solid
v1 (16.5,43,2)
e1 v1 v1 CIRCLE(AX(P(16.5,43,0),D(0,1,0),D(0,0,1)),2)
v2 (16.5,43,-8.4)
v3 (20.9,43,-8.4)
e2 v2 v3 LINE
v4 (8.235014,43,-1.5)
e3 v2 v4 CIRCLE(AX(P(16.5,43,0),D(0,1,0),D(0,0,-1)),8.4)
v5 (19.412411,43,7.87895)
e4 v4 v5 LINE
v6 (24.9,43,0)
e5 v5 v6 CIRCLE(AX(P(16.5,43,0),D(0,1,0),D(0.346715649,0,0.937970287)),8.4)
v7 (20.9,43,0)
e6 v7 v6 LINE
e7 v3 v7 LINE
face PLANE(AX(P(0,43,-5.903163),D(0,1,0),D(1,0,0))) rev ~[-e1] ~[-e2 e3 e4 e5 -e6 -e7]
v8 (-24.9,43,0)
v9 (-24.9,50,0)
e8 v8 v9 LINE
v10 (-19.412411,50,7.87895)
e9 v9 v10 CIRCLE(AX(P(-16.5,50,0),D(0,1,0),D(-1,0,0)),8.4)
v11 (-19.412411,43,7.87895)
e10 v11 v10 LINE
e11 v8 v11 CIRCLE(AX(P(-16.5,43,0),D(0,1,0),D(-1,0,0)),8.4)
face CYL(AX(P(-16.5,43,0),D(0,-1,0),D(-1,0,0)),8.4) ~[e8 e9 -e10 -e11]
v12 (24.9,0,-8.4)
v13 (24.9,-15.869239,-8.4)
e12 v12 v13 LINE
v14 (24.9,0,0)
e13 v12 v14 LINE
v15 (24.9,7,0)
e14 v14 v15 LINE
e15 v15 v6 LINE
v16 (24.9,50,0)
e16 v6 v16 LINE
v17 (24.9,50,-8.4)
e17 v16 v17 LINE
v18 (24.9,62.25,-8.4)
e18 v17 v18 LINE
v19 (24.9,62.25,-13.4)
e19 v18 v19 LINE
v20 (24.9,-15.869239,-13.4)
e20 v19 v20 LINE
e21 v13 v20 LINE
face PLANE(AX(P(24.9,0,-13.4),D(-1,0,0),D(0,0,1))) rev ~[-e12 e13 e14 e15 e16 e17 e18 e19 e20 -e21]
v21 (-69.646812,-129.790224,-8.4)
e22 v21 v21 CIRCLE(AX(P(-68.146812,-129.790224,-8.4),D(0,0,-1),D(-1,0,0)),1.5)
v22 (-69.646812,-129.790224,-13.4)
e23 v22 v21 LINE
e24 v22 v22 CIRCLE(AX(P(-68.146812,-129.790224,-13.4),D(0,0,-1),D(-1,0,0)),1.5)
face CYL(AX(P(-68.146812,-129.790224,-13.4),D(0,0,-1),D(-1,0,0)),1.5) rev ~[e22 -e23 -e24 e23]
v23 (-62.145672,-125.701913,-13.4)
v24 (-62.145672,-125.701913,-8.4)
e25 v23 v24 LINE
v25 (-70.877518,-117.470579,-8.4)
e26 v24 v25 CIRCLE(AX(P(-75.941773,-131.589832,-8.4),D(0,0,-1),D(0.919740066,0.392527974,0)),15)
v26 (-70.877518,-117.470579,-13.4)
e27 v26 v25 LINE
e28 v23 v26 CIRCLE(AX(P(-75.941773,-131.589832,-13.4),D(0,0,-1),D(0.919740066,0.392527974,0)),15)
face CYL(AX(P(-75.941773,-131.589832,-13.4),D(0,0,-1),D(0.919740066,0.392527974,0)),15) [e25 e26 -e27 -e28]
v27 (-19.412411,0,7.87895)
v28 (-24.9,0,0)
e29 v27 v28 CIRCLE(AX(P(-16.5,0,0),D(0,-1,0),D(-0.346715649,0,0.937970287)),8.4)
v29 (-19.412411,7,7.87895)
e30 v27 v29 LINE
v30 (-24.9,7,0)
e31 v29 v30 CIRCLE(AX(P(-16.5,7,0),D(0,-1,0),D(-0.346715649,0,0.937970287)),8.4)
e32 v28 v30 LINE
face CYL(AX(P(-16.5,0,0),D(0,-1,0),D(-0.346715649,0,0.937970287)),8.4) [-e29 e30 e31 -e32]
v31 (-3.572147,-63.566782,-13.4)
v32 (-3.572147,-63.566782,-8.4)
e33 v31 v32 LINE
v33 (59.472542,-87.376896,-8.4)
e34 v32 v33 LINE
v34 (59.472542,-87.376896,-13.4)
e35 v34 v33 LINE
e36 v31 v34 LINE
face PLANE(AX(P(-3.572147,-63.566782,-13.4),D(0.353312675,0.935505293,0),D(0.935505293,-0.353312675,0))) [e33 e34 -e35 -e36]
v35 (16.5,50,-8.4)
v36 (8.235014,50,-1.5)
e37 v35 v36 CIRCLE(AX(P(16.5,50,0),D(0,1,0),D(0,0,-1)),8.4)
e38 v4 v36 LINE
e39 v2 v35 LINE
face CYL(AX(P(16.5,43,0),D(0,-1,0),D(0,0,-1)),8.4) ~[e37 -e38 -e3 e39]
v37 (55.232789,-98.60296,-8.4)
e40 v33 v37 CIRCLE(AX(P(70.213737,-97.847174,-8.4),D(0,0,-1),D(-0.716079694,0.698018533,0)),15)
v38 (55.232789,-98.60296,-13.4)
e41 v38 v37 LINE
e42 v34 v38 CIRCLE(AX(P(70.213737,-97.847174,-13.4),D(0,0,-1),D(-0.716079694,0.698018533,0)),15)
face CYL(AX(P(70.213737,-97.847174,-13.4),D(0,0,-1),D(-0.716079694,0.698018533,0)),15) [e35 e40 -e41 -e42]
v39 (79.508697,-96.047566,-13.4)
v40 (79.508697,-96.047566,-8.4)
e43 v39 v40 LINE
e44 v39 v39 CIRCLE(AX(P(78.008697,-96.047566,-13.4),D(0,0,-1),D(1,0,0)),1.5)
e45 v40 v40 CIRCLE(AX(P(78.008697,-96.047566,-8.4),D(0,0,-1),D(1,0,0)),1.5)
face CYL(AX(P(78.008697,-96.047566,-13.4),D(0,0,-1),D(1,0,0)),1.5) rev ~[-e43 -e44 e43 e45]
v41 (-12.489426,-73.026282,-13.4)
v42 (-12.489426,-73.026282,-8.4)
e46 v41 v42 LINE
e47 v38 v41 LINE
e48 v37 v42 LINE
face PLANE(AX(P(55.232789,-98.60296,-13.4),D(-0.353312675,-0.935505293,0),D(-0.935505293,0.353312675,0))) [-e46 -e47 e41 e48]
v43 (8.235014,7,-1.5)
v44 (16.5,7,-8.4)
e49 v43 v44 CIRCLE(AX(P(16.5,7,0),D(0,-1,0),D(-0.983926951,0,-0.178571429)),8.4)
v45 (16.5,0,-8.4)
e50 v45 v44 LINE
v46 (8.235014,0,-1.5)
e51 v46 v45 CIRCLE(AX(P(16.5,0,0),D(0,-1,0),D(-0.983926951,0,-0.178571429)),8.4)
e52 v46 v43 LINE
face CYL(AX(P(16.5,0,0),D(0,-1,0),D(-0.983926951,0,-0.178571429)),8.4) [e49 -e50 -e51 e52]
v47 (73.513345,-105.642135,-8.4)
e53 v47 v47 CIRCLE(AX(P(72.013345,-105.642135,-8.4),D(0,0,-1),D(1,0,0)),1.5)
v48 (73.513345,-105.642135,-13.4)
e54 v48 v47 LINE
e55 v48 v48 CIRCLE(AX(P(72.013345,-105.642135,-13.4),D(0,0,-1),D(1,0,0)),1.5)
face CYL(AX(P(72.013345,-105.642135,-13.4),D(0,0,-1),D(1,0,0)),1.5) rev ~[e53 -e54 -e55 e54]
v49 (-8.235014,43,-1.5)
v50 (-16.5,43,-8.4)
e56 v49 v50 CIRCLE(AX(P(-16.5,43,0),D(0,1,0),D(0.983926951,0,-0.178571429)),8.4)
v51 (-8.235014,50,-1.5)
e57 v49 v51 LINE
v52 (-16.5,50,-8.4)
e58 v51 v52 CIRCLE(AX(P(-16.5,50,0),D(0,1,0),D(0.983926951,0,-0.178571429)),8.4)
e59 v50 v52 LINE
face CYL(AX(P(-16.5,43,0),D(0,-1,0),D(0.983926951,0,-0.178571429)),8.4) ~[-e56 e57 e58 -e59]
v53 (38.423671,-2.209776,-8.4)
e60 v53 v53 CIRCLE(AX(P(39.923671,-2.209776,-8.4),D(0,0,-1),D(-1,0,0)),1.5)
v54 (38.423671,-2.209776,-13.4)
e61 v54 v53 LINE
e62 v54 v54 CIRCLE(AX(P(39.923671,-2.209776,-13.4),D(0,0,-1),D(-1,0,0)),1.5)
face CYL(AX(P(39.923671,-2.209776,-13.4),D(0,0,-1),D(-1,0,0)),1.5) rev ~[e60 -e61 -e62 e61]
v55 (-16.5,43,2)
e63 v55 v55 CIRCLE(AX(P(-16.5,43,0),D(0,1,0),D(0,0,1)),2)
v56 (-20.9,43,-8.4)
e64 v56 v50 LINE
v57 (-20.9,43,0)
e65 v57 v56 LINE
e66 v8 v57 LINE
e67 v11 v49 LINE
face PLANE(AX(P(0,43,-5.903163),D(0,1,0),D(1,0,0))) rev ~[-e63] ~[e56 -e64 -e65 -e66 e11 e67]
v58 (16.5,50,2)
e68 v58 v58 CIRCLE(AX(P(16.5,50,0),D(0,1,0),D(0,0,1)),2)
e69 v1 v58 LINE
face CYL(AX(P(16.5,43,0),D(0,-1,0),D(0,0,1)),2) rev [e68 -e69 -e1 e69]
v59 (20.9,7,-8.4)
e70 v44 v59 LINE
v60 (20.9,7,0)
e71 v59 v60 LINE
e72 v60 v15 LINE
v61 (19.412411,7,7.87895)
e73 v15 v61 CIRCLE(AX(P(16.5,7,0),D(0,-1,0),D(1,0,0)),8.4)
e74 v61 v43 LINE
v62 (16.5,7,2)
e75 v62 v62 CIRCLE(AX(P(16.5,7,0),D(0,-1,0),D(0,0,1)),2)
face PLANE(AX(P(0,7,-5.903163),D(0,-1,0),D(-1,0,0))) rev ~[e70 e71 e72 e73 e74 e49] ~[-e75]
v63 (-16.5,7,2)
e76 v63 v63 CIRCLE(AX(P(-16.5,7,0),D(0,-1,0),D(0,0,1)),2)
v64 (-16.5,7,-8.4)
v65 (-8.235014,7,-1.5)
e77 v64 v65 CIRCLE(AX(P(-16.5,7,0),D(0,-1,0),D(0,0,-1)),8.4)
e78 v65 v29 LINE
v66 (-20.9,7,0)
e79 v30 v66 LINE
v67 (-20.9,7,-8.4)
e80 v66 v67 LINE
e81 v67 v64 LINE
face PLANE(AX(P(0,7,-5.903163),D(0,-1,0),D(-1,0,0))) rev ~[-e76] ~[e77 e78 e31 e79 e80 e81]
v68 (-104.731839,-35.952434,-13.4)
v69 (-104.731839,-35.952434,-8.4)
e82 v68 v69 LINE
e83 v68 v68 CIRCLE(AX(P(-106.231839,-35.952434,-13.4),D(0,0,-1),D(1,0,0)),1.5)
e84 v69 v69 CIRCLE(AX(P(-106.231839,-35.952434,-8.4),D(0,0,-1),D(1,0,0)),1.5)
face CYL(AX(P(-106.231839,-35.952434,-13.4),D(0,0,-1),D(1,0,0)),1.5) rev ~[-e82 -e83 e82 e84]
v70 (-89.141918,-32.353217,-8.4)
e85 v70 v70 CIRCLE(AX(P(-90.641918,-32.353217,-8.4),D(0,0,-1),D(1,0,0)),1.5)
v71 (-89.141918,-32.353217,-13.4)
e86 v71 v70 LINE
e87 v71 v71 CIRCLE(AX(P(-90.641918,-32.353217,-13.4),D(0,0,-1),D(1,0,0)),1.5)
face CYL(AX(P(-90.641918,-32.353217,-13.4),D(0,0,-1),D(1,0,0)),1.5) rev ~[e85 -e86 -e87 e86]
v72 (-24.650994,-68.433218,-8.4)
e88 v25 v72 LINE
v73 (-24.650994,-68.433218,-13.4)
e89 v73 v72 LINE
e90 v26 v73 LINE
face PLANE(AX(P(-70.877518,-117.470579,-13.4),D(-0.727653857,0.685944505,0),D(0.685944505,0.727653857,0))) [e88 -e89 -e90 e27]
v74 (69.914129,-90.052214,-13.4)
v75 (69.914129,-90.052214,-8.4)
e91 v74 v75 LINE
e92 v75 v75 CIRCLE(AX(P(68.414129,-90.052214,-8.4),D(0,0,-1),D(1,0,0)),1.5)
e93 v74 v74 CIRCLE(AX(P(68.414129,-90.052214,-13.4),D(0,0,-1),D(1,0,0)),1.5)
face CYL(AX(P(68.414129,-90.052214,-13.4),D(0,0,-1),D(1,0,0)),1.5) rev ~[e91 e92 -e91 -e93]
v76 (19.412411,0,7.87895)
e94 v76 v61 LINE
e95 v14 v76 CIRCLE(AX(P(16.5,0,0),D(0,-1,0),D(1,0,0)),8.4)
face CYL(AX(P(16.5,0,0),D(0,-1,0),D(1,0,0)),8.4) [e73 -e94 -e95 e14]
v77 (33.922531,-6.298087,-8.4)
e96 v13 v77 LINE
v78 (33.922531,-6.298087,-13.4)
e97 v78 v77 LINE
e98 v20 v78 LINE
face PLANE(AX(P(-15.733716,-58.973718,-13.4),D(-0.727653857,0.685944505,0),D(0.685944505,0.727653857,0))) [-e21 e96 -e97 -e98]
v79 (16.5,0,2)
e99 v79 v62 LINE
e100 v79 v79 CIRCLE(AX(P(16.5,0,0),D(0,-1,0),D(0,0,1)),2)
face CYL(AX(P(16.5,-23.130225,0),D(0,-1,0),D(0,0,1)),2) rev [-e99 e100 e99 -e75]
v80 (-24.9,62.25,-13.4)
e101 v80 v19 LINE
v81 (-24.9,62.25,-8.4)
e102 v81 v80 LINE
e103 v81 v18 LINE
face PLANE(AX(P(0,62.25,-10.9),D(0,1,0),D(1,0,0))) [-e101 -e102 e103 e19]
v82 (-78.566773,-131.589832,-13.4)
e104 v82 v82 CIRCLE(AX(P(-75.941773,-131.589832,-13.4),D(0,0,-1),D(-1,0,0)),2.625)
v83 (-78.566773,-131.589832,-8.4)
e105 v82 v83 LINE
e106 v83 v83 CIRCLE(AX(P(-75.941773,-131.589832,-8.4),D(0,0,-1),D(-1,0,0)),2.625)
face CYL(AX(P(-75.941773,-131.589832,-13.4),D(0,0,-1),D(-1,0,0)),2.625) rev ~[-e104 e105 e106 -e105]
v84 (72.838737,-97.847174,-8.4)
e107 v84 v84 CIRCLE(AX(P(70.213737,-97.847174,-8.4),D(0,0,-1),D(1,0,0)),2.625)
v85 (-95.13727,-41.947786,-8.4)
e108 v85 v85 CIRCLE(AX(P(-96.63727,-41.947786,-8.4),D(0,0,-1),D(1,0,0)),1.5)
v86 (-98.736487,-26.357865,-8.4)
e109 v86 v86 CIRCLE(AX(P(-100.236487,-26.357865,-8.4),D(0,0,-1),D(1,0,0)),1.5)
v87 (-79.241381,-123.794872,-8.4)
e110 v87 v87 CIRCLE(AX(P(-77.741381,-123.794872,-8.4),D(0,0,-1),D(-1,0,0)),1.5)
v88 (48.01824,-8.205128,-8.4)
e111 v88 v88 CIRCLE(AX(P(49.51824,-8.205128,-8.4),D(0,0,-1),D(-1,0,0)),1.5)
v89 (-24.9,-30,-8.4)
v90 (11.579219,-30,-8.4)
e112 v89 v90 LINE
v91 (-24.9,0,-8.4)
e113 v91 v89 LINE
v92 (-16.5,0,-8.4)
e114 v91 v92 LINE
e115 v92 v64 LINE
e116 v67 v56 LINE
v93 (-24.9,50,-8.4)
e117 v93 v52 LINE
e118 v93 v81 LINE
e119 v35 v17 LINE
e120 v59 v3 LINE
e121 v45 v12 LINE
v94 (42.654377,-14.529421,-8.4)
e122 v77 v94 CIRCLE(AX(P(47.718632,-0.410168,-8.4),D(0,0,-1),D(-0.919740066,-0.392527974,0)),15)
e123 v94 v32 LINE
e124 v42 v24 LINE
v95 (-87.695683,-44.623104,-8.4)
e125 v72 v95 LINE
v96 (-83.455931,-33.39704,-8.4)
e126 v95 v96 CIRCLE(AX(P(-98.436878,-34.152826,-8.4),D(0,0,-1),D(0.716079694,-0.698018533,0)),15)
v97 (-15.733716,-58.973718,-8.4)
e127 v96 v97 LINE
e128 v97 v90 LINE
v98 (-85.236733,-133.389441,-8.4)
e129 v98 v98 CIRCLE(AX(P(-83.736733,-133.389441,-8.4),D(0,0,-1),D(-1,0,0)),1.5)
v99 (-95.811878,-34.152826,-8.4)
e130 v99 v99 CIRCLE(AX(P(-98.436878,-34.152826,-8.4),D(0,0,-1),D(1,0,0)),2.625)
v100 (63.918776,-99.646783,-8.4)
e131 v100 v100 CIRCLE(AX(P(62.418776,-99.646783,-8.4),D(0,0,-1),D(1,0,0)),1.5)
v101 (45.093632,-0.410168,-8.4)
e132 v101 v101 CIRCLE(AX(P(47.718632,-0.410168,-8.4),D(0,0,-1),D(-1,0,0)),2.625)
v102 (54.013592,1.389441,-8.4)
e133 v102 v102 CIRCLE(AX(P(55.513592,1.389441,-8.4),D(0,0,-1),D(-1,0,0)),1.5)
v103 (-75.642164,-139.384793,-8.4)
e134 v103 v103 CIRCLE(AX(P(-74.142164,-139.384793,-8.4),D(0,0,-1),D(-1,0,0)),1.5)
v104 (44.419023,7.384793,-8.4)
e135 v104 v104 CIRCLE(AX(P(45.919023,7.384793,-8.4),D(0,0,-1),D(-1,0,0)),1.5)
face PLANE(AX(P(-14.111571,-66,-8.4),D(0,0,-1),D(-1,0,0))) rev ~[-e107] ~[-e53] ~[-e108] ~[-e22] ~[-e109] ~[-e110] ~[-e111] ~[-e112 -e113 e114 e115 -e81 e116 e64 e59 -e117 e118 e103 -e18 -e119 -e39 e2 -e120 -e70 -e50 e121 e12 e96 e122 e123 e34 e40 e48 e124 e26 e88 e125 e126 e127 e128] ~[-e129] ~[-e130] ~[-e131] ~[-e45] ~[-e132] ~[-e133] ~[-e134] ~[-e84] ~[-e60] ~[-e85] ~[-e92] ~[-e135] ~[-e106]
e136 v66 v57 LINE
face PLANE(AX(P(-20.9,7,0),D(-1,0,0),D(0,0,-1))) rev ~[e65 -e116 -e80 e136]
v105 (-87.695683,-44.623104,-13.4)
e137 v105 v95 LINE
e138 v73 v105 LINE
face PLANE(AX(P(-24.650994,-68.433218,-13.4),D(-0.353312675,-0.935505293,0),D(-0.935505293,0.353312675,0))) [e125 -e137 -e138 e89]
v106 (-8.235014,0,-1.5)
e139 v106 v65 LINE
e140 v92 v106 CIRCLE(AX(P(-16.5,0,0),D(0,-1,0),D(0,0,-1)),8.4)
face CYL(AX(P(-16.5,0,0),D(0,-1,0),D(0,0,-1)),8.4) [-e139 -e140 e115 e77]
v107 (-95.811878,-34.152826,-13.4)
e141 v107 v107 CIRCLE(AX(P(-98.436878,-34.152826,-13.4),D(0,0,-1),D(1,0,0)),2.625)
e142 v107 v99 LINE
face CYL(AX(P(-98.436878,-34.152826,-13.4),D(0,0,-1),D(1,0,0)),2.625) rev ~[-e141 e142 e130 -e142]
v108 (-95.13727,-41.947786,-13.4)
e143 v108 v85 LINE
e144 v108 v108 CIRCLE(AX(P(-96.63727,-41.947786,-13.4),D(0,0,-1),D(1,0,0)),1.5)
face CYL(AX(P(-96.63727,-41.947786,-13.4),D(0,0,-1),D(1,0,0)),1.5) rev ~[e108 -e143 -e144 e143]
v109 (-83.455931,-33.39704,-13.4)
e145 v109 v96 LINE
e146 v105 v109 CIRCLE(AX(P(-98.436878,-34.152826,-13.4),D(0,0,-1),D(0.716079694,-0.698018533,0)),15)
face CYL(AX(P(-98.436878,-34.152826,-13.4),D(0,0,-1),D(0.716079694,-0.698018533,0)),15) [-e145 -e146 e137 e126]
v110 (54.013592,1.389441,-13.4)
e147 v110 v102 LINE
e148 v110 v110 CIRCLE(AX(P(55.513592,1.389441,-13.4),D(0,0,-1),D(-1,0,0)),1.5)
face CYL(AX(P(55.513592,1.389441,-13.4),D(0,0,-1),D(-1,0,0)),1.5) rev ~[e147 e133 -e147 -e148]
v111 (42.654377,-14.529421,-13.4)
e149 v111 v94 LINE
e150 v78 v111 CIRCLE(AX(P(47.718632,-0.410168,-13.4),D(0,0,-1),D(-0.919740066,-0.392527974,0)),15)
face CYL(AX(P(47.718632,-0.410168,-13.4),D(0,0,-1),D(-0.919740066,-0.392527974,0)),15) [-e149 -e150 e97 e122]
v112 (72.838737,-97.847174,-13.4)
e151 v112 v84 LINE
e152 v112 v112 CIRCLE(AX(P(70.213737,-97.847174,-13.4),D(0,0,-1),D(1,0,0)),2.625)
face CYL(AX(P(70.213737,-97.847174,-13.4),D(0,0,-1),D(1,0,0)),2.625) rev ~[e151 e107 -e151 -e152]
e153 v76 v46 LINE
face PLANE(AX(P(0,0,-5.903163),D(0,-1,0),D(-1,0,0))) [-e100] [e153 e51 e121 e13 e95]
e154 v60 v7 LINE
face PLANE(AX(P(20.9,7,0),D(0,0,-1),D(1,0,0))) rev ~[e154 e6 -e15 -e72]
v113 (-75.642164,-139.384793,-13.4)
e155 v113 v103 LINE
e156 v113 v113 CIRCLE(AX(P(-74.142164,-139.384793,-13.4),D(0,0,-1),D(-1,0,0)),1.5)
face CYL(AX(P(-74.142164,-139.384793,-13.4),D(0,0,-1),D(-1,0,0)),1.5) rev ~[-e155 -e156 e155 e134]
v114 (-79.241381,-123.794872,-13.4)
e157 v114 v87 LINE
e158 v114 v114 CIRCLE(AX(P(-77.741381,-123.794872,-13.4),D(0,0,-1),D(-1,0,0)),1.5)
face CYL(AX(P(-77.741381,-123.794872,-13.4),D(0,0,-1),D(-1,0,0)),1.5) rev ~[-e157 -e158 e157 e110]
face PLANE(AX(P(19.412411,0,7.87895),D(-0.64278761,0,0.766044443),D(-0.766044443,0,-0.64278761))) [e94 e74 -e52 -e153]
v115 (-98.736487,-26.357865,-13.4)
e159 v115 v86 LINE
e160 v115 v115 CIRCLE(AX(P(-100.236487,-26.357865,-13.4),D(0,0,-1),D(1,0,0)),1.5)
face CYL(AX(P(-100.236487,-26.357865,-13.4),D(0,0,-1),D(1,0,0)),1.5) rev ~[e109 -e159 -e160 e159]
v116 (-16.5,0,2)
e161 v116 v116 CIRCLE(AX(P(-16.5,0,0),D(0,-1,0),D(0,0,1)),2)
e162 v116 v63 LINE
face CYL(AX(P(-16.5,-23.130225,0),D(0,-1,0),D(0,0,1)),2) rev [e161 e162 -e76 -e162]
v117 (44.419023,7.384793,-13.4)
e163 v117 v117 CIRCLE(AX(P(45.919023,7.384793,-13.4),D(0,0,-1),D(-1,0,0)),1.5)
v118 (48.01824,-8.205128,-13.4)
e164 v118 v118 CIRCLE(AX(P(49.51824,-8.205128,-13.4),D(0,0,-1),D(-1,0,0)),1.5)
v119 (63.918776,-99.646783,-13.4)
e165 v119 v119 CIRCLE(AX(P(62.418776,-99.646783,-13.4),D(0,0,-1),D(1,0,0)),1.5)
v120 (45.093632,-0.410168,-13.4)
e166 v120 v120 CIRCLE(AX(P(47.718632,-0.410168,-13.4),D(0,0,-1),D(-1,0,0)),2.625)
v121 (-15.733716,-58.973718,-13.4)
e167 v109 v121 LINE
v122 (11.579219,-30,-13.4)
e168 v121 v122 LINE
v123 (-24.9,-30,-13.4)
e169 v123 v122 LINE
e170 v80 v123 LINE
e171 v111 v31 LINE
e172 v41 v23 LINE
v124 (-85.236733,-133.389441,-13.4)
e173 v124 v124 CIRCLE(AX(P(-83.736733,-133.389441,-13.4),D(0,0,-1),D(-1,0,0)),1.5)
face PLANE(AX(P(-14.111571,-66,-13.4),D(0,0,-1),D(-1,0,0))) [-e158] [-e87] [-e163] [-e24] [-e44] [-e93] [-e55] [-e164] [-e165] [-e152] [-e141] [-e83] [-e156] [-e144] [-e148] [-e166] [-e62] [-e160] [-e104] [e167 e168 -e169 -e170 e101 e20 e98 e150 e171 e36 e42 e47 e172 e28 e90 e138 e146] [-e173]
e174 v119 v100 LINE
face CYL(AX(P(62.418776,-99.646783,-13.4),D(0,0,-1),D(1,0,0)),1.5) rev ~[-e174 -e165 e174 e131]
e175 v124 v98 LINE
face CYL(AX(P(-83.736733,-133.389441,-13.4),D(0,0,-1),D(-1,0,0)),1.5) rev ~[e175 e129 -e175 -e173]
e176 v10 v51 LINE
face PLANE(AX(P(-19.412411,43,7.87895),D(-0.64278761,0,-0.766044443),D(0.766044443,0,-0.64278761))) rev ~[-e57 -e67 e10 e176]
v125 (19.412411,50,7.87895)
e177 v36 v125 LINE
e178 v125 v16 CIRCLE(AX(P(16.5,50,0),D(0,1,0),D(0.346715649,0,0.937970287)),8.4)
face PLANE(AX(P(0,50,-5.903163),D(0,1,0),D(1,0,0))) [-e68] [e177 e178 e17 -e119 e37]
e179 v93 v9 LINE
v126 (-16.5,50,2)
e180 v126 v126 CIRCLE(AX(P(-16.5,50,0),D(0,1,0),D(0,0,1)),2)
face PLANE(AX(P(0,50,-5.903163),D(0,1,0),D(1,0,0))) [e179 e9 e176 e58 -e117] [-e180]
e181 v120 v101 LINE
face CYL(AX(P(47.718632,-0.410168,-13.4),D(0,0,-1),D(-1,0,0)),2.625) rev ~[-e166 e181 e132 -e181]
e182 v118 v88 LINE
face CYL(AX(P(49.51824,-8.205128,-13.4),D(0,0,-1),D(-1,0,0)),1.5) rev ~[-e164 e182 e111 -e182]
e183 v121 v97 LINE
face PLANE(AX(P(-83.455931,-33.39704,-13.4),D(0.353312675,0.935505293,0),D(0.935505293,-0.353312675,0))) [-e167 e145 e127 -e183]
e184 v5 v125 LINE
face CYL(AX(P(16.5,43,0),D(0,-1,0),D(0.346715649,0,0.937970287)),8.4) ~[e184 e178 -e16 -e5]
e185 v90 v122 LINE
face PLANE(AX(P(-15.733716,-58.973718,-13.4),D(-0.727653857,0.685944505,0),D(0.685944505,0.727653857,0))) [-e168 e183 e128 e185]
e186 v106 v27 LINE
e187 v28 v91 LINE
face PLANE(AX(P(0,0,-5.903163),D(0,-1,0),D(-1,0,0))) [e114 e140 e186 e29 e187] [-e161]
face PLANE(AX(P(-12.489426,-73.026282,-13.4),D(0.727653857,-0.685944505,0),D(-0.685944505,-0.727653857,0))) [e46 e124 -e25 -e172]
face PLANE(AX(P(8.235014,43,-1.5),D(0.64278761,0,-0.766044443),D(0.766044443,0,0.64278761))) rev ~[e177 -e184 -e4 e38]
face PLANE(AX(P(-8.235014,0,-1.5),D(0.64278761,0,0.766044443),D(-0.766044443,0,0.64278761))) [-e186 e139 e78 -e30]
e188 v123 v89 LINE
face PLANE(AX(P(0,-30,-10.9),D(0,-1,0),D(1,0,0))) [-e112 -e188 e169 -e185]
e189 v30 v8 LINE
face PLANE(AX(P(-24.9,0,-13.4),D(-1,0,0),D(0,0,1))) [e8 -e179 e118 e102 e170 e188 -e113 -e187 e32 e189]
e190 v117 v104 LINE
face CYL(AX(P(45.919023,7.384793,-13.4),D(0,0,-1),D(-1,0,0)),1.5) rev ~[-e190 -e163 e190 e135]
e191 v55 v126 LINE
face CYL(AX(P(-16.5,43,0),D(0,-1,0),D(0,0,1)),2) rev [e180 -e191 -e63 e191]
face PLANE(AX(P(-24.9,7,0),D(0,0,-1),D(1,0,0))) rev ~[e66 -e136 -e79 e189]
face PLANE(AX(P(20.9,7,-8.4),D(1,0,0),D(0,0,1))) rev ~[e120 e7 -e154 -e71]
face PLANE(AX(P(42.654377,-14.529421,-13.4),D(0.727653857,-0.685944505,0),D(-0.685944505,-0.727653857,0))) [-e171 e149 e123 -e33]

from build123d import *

# Parameters (mm, degrees)
BOSS_EXTRUDE2_DEPTH     = 7
CUT_EXTRUDE2_DEPTH      = 30.130224853
CUT_EXTRUDE2_DEPTH_BACK = 30.130224853
SKETCH3_R               = 2
BOSS_EXTRUDE3_DEPTH     = 36
SKETCH5_R               = 2
BOSS_EXTRUDE4_DEPTH     = 7
SKETCH13_W              = 49.8
SKETCH13_H              = 5
BOSS_EXTRUDE6_DEPTH     = 12.25
SKETCH15_W              = 49.8
SKETCH15_H              = 5
BOSS_EXTRUDE7_DEPTH     = 30
SKETCH12_R              = 1.5
SKETCH12_R_2            = 2.625
BOSS_EXTRUDE8_DEPTH     = 5


with BuildPart() as part:
    # Sketch1 → Boss-Extrude2 (new body)
    with BuildSketch(Plane(origin=(0, 0, 0), x_dir=(1, 0, 0), z_dir=(0, 1, 0))):
        with BuildLine():
            Line((-24.9, 0), (-24.9, 13.4))
            Line((-24.9, 13.4), (24.9, 13.4))
            Line((24.9, 13.4), (24.9, 0))
            ThreePointArc((24.9, 0), (23.392904185, -4.800819919), (19.412411454, -7.878950407))
            Line((19.412411454, -7.878950407), (8.235013612, 1.5))
            ThreePointArc((8.235013612, 1.5), (11.116692467, 6.448255578), (16.5, 8.4))
            Line((16.5, 8.4), (-16.5, 8.4))
            ThreePointArc((-16.5, 8.4), (-11.116692467, 6.448255578), (-8.235013612, 1.5))
            Line((-8.235013612, 1.5), (-19.412411454, -7.878950407))
            ThreePointArc((-19.412411454, -7.878950407), (-23.392904185, -4.800819919), (-24.9, 0))
        make_face()
    extrude(amount=BOSS_EXTRUDE2_DEPTH)

    # Sketch3 → Cut-Extrude2 (cut, two sides: drawn at the far end of the back side and taken through both)
    with BuildSketch(Plane(origin=(0, 7, 0), x_dir=(1, 0, 0), z_dir=(0, 1, 0)).offset(-CUT_EXTRUDE2_DEPTH_BACK)):
        with Locations(Location((-16.5, 0, 0), (0, 0, 270))):
            Circle(SKETCH3_R)
        with Locations(Location((16.5, 0, 0), (0, 0, 270))):
            Circle(SKETCH3_R)
    extrude(amount=CUT_EXTRUDE2_DEPTH + CUT_EXTRUDE2_DEPTH_BACK, mode=Mode.SUBTRACT)

    # Sketch4 → Boss-Extrude3 (add)
    with BuildSketch(Plane(origin=(0, 7, 0), x_dir=(1, 0, 0), z_dir=(0, 1, 0))):
        Polygon((-24.9, 13.4), (-24.9, 0), (-20.9, 0), (-20.9, 8.4), (-16.5, 8.4), (16.5, 8.4), (20.9, 8.4), (20.9, 0), (24.9, 0), (24.9, 13.4), align=None)
    extrude(amount=BOSS_EXTRUDE3_DEPTH)

    # Sketch5 → Boss-Extrude4 (add)
    with BuildSketch(Plane(origin=(0, 43, 0), x_dir=(1, 0, 0), z_dir=(0, 1, 0))):
        with BuildLine():
            Line((-24.9, 13.4), (-24.9, 0))
            ThreePointArc((-24.9, 0), (-23.392904185, -4.800819919), (-19.412411454, -7.878950407))
            Line((-19.412411454, -7.878950407), (-8.235013612, 1.5))
            ThreePointArc((-8.235013612, 1.5), (-11.116692467, 6.448255578), (-16.5, 8.4))
            Line((-16.5, 8.4), (16.5, 8.4))
            ThreePointArc((16.5, 8.4), (11.116692467, 6.448255578), (8.235013612, 1.5))
            Line((8.235013612, 1.5), (19.412411454, -7.878950407))
            ThreePointArc((19.412411454, -7.878950407), (23.392904185, -4.800819919), (24.9, 0))
            Line((24.9, 0), (24.9, 13.4))
            Line((24.9, 13.4), (-24.9, 13.4))
        make_face()
        with Locations(Location((16.5, 0, 0), (0, 0, 270))):
            Circle(SKETCH5_R, mode=Mode.SUBTRACT)
        with Locations(Location((-16.5, 0, 0), (0, 0, 270))):
            Circle(SKETCH5_R, mode=Mode.SUBTRACT)
    extrude(amount=BOSS_EXTRUDE4_DEPTH)

    # Sketch13 → Boss-Extrude6 (add)
    with BuildSketch(Plane(origin=(0, 50, 0), x_dir=(1, 0, 0), z_dir=(0, 1, 0))):
        with Locations((0, 10.9)):
            Rectangle(SKETCH13_W, SKETCH13_H)
    extrude(amount=BOSS_EXTRUDE6_DEPTH)

    # Sketch15 → Boss-Extrude7 (add)
    with BuildSketch(Plane.XZ):
        with Locations((0, -10.9)):
            Rectangle(SKETCH15_W, SKETCH15_H)
    extrude(amount=BOSS_EXTRUDE7_DEPTH)

    # Sketch12 → Boss-Extrude8 (add)
    with BuildSketch(Plane(origin=(0, 0, -13.4), x_dir=(-1, 0, 0), z_dir=(0, 0, -1))):
        with BuildLine():
            Line((3.57214695, -63.566782317), (-59.47254153, -87.376896171))
            ThreePointArc((-59.47254153, -87.376896171), (-84.246316334, -103.146864291), (-55.232789428, -98.602959689))
            Line((-55.232789428, -98.602959689), (12.489425518, -73.02628246))
            Line((12.489425518, -73.02628246), (62.145671786, -125.701912707))
            ThreePointArc((62.145671786, -125.701912707), (86.23094036, -142.504640172), (70.877518071, -117.470578644))
            Line((70.877518071, -117.470578644), (24.650994329, -68.433217683))
            Line((24.650994329, -68.433217683), (87.69568281, -44.623103829))
            ThreePointArc((87.69568281, -44.623103829), (112.469457614, -28.853135709), (83.455930708, -33.397040311))
            Line((83.455930708, -33.397040311), (15.733715762, -58.97371754))
            Line((15.733715762, -58.97371754), (-33.922530506, -6.298087293))
            ThreePointArc((-33.922530506, -6.298087293), (-58.00779908, 10.504640172), (-42.654376791, -14.529421356))
            Line((-42.654376791, -14.529421356), (3.57214695, -63.566782317))
        make_face()
        with Locations((-49.518239937, -8.205128203)):
            Circle(SKETCH12_R, mode=Mode.SUBTRACT)
        with Locations((-55.51359202, 1.38944075)):
            Circle(SKETCH12_R, mode=Mode.SUBTRACT)
        with Locations((-45.919023067, 7.384792833)):
            Circle(SKETCH12_R, mode=Mode.SUBTRACT)
        with Locations((-39.923670984, -2.20977612)):
            Circle(SKETCH12_R, mode=Mode.SUBTRACT)
        with Locations(Location((-62.418776418, -99.646782598, 0), (0, 0, 180))):
            Circle(SKETCH12_R, mode=Mode.SUBTRACT)
        with Locations(Location((-72.013345371, -105.642134682, 0), (0, 0, 180))):
            Circle(SKETCH12_R, mode=Mode.SUBTRACT)
        with Locations(Location((-68.414128501, -90.052213645, 0), (0, 0, 180))):
            Circle(SKETCH12_R, mode=Mode.SUBTRACT)
        with Locations(Location((-78.008697455, -96.047565729, 0), (0, 0, 180))):
            Circle(SKETCH12_R, mode=Mode.SUBTRACT)
        with Locations(Location((100.236486651, -26.357865318, 0), (0, 0, 180))):
            Circle(SKETCH12_R, mode=Mode.SUBTRACT)
        with Locations(Location((90.641917698, -32.353217402, 0), (0, 0, 180))):
            Circle(SKETCH12_R, mode=Mode.SUBTRACT)
        with Locations(Location((96.637269781, -41.947786355, 0), (0, 0, 180))):
            Circle(SKETCH12_R, mode=Mode.SUBTRACT)
        with Locations(Location((106.231838734, -35.952434271, 0), (0, 0, 180))):
            Circle(SKETCH12_R, mode=Mode.SUBTRACT)
        with Locations((68.146812263, -129.79022388)):
            Circle(SKETCH12_R, mode=Mode.SUBTRACT)
        with Locations((77.741381216, -123.794871797)):
            Circle(SKETCH12_R, mode=Mode.SUBTRACT)
        with Locations((83.7367333, -133.38944075)):
            Circle(SKETCH12_R, mode=Mode.SUBTRACT)
        with Locations((74.142164347, -139.384792833)):
            Circle(SKETCH12_R, mode=Mode.SUBTRACT)
        with Locations((-47.718631502, -0.410167685)):
            Circle(SKETCH12_R_2, mode=Mode.SUBTRACT)
        with Locations(Location((-70.213736936, -97.847174163, 0), (0, 0, 180))):
            Circle(SKETCH12_R_2, mode=Mode.SUBTRACT)
        with Locations(Location((98.436878216, -34.152825837, 0), (0, 0, 180))):
            Circle(SKETCH12_R_2, mode=Mode.SUBTRACT)
        with Locations((75.941772782, -131.589832315)):
            Circle(SKETCH12_R_2, mode=Mode.SUBTRACT)
    extrude(amount=-BOSS_EXTRUDE8_DEPTH)


solid = part.part
